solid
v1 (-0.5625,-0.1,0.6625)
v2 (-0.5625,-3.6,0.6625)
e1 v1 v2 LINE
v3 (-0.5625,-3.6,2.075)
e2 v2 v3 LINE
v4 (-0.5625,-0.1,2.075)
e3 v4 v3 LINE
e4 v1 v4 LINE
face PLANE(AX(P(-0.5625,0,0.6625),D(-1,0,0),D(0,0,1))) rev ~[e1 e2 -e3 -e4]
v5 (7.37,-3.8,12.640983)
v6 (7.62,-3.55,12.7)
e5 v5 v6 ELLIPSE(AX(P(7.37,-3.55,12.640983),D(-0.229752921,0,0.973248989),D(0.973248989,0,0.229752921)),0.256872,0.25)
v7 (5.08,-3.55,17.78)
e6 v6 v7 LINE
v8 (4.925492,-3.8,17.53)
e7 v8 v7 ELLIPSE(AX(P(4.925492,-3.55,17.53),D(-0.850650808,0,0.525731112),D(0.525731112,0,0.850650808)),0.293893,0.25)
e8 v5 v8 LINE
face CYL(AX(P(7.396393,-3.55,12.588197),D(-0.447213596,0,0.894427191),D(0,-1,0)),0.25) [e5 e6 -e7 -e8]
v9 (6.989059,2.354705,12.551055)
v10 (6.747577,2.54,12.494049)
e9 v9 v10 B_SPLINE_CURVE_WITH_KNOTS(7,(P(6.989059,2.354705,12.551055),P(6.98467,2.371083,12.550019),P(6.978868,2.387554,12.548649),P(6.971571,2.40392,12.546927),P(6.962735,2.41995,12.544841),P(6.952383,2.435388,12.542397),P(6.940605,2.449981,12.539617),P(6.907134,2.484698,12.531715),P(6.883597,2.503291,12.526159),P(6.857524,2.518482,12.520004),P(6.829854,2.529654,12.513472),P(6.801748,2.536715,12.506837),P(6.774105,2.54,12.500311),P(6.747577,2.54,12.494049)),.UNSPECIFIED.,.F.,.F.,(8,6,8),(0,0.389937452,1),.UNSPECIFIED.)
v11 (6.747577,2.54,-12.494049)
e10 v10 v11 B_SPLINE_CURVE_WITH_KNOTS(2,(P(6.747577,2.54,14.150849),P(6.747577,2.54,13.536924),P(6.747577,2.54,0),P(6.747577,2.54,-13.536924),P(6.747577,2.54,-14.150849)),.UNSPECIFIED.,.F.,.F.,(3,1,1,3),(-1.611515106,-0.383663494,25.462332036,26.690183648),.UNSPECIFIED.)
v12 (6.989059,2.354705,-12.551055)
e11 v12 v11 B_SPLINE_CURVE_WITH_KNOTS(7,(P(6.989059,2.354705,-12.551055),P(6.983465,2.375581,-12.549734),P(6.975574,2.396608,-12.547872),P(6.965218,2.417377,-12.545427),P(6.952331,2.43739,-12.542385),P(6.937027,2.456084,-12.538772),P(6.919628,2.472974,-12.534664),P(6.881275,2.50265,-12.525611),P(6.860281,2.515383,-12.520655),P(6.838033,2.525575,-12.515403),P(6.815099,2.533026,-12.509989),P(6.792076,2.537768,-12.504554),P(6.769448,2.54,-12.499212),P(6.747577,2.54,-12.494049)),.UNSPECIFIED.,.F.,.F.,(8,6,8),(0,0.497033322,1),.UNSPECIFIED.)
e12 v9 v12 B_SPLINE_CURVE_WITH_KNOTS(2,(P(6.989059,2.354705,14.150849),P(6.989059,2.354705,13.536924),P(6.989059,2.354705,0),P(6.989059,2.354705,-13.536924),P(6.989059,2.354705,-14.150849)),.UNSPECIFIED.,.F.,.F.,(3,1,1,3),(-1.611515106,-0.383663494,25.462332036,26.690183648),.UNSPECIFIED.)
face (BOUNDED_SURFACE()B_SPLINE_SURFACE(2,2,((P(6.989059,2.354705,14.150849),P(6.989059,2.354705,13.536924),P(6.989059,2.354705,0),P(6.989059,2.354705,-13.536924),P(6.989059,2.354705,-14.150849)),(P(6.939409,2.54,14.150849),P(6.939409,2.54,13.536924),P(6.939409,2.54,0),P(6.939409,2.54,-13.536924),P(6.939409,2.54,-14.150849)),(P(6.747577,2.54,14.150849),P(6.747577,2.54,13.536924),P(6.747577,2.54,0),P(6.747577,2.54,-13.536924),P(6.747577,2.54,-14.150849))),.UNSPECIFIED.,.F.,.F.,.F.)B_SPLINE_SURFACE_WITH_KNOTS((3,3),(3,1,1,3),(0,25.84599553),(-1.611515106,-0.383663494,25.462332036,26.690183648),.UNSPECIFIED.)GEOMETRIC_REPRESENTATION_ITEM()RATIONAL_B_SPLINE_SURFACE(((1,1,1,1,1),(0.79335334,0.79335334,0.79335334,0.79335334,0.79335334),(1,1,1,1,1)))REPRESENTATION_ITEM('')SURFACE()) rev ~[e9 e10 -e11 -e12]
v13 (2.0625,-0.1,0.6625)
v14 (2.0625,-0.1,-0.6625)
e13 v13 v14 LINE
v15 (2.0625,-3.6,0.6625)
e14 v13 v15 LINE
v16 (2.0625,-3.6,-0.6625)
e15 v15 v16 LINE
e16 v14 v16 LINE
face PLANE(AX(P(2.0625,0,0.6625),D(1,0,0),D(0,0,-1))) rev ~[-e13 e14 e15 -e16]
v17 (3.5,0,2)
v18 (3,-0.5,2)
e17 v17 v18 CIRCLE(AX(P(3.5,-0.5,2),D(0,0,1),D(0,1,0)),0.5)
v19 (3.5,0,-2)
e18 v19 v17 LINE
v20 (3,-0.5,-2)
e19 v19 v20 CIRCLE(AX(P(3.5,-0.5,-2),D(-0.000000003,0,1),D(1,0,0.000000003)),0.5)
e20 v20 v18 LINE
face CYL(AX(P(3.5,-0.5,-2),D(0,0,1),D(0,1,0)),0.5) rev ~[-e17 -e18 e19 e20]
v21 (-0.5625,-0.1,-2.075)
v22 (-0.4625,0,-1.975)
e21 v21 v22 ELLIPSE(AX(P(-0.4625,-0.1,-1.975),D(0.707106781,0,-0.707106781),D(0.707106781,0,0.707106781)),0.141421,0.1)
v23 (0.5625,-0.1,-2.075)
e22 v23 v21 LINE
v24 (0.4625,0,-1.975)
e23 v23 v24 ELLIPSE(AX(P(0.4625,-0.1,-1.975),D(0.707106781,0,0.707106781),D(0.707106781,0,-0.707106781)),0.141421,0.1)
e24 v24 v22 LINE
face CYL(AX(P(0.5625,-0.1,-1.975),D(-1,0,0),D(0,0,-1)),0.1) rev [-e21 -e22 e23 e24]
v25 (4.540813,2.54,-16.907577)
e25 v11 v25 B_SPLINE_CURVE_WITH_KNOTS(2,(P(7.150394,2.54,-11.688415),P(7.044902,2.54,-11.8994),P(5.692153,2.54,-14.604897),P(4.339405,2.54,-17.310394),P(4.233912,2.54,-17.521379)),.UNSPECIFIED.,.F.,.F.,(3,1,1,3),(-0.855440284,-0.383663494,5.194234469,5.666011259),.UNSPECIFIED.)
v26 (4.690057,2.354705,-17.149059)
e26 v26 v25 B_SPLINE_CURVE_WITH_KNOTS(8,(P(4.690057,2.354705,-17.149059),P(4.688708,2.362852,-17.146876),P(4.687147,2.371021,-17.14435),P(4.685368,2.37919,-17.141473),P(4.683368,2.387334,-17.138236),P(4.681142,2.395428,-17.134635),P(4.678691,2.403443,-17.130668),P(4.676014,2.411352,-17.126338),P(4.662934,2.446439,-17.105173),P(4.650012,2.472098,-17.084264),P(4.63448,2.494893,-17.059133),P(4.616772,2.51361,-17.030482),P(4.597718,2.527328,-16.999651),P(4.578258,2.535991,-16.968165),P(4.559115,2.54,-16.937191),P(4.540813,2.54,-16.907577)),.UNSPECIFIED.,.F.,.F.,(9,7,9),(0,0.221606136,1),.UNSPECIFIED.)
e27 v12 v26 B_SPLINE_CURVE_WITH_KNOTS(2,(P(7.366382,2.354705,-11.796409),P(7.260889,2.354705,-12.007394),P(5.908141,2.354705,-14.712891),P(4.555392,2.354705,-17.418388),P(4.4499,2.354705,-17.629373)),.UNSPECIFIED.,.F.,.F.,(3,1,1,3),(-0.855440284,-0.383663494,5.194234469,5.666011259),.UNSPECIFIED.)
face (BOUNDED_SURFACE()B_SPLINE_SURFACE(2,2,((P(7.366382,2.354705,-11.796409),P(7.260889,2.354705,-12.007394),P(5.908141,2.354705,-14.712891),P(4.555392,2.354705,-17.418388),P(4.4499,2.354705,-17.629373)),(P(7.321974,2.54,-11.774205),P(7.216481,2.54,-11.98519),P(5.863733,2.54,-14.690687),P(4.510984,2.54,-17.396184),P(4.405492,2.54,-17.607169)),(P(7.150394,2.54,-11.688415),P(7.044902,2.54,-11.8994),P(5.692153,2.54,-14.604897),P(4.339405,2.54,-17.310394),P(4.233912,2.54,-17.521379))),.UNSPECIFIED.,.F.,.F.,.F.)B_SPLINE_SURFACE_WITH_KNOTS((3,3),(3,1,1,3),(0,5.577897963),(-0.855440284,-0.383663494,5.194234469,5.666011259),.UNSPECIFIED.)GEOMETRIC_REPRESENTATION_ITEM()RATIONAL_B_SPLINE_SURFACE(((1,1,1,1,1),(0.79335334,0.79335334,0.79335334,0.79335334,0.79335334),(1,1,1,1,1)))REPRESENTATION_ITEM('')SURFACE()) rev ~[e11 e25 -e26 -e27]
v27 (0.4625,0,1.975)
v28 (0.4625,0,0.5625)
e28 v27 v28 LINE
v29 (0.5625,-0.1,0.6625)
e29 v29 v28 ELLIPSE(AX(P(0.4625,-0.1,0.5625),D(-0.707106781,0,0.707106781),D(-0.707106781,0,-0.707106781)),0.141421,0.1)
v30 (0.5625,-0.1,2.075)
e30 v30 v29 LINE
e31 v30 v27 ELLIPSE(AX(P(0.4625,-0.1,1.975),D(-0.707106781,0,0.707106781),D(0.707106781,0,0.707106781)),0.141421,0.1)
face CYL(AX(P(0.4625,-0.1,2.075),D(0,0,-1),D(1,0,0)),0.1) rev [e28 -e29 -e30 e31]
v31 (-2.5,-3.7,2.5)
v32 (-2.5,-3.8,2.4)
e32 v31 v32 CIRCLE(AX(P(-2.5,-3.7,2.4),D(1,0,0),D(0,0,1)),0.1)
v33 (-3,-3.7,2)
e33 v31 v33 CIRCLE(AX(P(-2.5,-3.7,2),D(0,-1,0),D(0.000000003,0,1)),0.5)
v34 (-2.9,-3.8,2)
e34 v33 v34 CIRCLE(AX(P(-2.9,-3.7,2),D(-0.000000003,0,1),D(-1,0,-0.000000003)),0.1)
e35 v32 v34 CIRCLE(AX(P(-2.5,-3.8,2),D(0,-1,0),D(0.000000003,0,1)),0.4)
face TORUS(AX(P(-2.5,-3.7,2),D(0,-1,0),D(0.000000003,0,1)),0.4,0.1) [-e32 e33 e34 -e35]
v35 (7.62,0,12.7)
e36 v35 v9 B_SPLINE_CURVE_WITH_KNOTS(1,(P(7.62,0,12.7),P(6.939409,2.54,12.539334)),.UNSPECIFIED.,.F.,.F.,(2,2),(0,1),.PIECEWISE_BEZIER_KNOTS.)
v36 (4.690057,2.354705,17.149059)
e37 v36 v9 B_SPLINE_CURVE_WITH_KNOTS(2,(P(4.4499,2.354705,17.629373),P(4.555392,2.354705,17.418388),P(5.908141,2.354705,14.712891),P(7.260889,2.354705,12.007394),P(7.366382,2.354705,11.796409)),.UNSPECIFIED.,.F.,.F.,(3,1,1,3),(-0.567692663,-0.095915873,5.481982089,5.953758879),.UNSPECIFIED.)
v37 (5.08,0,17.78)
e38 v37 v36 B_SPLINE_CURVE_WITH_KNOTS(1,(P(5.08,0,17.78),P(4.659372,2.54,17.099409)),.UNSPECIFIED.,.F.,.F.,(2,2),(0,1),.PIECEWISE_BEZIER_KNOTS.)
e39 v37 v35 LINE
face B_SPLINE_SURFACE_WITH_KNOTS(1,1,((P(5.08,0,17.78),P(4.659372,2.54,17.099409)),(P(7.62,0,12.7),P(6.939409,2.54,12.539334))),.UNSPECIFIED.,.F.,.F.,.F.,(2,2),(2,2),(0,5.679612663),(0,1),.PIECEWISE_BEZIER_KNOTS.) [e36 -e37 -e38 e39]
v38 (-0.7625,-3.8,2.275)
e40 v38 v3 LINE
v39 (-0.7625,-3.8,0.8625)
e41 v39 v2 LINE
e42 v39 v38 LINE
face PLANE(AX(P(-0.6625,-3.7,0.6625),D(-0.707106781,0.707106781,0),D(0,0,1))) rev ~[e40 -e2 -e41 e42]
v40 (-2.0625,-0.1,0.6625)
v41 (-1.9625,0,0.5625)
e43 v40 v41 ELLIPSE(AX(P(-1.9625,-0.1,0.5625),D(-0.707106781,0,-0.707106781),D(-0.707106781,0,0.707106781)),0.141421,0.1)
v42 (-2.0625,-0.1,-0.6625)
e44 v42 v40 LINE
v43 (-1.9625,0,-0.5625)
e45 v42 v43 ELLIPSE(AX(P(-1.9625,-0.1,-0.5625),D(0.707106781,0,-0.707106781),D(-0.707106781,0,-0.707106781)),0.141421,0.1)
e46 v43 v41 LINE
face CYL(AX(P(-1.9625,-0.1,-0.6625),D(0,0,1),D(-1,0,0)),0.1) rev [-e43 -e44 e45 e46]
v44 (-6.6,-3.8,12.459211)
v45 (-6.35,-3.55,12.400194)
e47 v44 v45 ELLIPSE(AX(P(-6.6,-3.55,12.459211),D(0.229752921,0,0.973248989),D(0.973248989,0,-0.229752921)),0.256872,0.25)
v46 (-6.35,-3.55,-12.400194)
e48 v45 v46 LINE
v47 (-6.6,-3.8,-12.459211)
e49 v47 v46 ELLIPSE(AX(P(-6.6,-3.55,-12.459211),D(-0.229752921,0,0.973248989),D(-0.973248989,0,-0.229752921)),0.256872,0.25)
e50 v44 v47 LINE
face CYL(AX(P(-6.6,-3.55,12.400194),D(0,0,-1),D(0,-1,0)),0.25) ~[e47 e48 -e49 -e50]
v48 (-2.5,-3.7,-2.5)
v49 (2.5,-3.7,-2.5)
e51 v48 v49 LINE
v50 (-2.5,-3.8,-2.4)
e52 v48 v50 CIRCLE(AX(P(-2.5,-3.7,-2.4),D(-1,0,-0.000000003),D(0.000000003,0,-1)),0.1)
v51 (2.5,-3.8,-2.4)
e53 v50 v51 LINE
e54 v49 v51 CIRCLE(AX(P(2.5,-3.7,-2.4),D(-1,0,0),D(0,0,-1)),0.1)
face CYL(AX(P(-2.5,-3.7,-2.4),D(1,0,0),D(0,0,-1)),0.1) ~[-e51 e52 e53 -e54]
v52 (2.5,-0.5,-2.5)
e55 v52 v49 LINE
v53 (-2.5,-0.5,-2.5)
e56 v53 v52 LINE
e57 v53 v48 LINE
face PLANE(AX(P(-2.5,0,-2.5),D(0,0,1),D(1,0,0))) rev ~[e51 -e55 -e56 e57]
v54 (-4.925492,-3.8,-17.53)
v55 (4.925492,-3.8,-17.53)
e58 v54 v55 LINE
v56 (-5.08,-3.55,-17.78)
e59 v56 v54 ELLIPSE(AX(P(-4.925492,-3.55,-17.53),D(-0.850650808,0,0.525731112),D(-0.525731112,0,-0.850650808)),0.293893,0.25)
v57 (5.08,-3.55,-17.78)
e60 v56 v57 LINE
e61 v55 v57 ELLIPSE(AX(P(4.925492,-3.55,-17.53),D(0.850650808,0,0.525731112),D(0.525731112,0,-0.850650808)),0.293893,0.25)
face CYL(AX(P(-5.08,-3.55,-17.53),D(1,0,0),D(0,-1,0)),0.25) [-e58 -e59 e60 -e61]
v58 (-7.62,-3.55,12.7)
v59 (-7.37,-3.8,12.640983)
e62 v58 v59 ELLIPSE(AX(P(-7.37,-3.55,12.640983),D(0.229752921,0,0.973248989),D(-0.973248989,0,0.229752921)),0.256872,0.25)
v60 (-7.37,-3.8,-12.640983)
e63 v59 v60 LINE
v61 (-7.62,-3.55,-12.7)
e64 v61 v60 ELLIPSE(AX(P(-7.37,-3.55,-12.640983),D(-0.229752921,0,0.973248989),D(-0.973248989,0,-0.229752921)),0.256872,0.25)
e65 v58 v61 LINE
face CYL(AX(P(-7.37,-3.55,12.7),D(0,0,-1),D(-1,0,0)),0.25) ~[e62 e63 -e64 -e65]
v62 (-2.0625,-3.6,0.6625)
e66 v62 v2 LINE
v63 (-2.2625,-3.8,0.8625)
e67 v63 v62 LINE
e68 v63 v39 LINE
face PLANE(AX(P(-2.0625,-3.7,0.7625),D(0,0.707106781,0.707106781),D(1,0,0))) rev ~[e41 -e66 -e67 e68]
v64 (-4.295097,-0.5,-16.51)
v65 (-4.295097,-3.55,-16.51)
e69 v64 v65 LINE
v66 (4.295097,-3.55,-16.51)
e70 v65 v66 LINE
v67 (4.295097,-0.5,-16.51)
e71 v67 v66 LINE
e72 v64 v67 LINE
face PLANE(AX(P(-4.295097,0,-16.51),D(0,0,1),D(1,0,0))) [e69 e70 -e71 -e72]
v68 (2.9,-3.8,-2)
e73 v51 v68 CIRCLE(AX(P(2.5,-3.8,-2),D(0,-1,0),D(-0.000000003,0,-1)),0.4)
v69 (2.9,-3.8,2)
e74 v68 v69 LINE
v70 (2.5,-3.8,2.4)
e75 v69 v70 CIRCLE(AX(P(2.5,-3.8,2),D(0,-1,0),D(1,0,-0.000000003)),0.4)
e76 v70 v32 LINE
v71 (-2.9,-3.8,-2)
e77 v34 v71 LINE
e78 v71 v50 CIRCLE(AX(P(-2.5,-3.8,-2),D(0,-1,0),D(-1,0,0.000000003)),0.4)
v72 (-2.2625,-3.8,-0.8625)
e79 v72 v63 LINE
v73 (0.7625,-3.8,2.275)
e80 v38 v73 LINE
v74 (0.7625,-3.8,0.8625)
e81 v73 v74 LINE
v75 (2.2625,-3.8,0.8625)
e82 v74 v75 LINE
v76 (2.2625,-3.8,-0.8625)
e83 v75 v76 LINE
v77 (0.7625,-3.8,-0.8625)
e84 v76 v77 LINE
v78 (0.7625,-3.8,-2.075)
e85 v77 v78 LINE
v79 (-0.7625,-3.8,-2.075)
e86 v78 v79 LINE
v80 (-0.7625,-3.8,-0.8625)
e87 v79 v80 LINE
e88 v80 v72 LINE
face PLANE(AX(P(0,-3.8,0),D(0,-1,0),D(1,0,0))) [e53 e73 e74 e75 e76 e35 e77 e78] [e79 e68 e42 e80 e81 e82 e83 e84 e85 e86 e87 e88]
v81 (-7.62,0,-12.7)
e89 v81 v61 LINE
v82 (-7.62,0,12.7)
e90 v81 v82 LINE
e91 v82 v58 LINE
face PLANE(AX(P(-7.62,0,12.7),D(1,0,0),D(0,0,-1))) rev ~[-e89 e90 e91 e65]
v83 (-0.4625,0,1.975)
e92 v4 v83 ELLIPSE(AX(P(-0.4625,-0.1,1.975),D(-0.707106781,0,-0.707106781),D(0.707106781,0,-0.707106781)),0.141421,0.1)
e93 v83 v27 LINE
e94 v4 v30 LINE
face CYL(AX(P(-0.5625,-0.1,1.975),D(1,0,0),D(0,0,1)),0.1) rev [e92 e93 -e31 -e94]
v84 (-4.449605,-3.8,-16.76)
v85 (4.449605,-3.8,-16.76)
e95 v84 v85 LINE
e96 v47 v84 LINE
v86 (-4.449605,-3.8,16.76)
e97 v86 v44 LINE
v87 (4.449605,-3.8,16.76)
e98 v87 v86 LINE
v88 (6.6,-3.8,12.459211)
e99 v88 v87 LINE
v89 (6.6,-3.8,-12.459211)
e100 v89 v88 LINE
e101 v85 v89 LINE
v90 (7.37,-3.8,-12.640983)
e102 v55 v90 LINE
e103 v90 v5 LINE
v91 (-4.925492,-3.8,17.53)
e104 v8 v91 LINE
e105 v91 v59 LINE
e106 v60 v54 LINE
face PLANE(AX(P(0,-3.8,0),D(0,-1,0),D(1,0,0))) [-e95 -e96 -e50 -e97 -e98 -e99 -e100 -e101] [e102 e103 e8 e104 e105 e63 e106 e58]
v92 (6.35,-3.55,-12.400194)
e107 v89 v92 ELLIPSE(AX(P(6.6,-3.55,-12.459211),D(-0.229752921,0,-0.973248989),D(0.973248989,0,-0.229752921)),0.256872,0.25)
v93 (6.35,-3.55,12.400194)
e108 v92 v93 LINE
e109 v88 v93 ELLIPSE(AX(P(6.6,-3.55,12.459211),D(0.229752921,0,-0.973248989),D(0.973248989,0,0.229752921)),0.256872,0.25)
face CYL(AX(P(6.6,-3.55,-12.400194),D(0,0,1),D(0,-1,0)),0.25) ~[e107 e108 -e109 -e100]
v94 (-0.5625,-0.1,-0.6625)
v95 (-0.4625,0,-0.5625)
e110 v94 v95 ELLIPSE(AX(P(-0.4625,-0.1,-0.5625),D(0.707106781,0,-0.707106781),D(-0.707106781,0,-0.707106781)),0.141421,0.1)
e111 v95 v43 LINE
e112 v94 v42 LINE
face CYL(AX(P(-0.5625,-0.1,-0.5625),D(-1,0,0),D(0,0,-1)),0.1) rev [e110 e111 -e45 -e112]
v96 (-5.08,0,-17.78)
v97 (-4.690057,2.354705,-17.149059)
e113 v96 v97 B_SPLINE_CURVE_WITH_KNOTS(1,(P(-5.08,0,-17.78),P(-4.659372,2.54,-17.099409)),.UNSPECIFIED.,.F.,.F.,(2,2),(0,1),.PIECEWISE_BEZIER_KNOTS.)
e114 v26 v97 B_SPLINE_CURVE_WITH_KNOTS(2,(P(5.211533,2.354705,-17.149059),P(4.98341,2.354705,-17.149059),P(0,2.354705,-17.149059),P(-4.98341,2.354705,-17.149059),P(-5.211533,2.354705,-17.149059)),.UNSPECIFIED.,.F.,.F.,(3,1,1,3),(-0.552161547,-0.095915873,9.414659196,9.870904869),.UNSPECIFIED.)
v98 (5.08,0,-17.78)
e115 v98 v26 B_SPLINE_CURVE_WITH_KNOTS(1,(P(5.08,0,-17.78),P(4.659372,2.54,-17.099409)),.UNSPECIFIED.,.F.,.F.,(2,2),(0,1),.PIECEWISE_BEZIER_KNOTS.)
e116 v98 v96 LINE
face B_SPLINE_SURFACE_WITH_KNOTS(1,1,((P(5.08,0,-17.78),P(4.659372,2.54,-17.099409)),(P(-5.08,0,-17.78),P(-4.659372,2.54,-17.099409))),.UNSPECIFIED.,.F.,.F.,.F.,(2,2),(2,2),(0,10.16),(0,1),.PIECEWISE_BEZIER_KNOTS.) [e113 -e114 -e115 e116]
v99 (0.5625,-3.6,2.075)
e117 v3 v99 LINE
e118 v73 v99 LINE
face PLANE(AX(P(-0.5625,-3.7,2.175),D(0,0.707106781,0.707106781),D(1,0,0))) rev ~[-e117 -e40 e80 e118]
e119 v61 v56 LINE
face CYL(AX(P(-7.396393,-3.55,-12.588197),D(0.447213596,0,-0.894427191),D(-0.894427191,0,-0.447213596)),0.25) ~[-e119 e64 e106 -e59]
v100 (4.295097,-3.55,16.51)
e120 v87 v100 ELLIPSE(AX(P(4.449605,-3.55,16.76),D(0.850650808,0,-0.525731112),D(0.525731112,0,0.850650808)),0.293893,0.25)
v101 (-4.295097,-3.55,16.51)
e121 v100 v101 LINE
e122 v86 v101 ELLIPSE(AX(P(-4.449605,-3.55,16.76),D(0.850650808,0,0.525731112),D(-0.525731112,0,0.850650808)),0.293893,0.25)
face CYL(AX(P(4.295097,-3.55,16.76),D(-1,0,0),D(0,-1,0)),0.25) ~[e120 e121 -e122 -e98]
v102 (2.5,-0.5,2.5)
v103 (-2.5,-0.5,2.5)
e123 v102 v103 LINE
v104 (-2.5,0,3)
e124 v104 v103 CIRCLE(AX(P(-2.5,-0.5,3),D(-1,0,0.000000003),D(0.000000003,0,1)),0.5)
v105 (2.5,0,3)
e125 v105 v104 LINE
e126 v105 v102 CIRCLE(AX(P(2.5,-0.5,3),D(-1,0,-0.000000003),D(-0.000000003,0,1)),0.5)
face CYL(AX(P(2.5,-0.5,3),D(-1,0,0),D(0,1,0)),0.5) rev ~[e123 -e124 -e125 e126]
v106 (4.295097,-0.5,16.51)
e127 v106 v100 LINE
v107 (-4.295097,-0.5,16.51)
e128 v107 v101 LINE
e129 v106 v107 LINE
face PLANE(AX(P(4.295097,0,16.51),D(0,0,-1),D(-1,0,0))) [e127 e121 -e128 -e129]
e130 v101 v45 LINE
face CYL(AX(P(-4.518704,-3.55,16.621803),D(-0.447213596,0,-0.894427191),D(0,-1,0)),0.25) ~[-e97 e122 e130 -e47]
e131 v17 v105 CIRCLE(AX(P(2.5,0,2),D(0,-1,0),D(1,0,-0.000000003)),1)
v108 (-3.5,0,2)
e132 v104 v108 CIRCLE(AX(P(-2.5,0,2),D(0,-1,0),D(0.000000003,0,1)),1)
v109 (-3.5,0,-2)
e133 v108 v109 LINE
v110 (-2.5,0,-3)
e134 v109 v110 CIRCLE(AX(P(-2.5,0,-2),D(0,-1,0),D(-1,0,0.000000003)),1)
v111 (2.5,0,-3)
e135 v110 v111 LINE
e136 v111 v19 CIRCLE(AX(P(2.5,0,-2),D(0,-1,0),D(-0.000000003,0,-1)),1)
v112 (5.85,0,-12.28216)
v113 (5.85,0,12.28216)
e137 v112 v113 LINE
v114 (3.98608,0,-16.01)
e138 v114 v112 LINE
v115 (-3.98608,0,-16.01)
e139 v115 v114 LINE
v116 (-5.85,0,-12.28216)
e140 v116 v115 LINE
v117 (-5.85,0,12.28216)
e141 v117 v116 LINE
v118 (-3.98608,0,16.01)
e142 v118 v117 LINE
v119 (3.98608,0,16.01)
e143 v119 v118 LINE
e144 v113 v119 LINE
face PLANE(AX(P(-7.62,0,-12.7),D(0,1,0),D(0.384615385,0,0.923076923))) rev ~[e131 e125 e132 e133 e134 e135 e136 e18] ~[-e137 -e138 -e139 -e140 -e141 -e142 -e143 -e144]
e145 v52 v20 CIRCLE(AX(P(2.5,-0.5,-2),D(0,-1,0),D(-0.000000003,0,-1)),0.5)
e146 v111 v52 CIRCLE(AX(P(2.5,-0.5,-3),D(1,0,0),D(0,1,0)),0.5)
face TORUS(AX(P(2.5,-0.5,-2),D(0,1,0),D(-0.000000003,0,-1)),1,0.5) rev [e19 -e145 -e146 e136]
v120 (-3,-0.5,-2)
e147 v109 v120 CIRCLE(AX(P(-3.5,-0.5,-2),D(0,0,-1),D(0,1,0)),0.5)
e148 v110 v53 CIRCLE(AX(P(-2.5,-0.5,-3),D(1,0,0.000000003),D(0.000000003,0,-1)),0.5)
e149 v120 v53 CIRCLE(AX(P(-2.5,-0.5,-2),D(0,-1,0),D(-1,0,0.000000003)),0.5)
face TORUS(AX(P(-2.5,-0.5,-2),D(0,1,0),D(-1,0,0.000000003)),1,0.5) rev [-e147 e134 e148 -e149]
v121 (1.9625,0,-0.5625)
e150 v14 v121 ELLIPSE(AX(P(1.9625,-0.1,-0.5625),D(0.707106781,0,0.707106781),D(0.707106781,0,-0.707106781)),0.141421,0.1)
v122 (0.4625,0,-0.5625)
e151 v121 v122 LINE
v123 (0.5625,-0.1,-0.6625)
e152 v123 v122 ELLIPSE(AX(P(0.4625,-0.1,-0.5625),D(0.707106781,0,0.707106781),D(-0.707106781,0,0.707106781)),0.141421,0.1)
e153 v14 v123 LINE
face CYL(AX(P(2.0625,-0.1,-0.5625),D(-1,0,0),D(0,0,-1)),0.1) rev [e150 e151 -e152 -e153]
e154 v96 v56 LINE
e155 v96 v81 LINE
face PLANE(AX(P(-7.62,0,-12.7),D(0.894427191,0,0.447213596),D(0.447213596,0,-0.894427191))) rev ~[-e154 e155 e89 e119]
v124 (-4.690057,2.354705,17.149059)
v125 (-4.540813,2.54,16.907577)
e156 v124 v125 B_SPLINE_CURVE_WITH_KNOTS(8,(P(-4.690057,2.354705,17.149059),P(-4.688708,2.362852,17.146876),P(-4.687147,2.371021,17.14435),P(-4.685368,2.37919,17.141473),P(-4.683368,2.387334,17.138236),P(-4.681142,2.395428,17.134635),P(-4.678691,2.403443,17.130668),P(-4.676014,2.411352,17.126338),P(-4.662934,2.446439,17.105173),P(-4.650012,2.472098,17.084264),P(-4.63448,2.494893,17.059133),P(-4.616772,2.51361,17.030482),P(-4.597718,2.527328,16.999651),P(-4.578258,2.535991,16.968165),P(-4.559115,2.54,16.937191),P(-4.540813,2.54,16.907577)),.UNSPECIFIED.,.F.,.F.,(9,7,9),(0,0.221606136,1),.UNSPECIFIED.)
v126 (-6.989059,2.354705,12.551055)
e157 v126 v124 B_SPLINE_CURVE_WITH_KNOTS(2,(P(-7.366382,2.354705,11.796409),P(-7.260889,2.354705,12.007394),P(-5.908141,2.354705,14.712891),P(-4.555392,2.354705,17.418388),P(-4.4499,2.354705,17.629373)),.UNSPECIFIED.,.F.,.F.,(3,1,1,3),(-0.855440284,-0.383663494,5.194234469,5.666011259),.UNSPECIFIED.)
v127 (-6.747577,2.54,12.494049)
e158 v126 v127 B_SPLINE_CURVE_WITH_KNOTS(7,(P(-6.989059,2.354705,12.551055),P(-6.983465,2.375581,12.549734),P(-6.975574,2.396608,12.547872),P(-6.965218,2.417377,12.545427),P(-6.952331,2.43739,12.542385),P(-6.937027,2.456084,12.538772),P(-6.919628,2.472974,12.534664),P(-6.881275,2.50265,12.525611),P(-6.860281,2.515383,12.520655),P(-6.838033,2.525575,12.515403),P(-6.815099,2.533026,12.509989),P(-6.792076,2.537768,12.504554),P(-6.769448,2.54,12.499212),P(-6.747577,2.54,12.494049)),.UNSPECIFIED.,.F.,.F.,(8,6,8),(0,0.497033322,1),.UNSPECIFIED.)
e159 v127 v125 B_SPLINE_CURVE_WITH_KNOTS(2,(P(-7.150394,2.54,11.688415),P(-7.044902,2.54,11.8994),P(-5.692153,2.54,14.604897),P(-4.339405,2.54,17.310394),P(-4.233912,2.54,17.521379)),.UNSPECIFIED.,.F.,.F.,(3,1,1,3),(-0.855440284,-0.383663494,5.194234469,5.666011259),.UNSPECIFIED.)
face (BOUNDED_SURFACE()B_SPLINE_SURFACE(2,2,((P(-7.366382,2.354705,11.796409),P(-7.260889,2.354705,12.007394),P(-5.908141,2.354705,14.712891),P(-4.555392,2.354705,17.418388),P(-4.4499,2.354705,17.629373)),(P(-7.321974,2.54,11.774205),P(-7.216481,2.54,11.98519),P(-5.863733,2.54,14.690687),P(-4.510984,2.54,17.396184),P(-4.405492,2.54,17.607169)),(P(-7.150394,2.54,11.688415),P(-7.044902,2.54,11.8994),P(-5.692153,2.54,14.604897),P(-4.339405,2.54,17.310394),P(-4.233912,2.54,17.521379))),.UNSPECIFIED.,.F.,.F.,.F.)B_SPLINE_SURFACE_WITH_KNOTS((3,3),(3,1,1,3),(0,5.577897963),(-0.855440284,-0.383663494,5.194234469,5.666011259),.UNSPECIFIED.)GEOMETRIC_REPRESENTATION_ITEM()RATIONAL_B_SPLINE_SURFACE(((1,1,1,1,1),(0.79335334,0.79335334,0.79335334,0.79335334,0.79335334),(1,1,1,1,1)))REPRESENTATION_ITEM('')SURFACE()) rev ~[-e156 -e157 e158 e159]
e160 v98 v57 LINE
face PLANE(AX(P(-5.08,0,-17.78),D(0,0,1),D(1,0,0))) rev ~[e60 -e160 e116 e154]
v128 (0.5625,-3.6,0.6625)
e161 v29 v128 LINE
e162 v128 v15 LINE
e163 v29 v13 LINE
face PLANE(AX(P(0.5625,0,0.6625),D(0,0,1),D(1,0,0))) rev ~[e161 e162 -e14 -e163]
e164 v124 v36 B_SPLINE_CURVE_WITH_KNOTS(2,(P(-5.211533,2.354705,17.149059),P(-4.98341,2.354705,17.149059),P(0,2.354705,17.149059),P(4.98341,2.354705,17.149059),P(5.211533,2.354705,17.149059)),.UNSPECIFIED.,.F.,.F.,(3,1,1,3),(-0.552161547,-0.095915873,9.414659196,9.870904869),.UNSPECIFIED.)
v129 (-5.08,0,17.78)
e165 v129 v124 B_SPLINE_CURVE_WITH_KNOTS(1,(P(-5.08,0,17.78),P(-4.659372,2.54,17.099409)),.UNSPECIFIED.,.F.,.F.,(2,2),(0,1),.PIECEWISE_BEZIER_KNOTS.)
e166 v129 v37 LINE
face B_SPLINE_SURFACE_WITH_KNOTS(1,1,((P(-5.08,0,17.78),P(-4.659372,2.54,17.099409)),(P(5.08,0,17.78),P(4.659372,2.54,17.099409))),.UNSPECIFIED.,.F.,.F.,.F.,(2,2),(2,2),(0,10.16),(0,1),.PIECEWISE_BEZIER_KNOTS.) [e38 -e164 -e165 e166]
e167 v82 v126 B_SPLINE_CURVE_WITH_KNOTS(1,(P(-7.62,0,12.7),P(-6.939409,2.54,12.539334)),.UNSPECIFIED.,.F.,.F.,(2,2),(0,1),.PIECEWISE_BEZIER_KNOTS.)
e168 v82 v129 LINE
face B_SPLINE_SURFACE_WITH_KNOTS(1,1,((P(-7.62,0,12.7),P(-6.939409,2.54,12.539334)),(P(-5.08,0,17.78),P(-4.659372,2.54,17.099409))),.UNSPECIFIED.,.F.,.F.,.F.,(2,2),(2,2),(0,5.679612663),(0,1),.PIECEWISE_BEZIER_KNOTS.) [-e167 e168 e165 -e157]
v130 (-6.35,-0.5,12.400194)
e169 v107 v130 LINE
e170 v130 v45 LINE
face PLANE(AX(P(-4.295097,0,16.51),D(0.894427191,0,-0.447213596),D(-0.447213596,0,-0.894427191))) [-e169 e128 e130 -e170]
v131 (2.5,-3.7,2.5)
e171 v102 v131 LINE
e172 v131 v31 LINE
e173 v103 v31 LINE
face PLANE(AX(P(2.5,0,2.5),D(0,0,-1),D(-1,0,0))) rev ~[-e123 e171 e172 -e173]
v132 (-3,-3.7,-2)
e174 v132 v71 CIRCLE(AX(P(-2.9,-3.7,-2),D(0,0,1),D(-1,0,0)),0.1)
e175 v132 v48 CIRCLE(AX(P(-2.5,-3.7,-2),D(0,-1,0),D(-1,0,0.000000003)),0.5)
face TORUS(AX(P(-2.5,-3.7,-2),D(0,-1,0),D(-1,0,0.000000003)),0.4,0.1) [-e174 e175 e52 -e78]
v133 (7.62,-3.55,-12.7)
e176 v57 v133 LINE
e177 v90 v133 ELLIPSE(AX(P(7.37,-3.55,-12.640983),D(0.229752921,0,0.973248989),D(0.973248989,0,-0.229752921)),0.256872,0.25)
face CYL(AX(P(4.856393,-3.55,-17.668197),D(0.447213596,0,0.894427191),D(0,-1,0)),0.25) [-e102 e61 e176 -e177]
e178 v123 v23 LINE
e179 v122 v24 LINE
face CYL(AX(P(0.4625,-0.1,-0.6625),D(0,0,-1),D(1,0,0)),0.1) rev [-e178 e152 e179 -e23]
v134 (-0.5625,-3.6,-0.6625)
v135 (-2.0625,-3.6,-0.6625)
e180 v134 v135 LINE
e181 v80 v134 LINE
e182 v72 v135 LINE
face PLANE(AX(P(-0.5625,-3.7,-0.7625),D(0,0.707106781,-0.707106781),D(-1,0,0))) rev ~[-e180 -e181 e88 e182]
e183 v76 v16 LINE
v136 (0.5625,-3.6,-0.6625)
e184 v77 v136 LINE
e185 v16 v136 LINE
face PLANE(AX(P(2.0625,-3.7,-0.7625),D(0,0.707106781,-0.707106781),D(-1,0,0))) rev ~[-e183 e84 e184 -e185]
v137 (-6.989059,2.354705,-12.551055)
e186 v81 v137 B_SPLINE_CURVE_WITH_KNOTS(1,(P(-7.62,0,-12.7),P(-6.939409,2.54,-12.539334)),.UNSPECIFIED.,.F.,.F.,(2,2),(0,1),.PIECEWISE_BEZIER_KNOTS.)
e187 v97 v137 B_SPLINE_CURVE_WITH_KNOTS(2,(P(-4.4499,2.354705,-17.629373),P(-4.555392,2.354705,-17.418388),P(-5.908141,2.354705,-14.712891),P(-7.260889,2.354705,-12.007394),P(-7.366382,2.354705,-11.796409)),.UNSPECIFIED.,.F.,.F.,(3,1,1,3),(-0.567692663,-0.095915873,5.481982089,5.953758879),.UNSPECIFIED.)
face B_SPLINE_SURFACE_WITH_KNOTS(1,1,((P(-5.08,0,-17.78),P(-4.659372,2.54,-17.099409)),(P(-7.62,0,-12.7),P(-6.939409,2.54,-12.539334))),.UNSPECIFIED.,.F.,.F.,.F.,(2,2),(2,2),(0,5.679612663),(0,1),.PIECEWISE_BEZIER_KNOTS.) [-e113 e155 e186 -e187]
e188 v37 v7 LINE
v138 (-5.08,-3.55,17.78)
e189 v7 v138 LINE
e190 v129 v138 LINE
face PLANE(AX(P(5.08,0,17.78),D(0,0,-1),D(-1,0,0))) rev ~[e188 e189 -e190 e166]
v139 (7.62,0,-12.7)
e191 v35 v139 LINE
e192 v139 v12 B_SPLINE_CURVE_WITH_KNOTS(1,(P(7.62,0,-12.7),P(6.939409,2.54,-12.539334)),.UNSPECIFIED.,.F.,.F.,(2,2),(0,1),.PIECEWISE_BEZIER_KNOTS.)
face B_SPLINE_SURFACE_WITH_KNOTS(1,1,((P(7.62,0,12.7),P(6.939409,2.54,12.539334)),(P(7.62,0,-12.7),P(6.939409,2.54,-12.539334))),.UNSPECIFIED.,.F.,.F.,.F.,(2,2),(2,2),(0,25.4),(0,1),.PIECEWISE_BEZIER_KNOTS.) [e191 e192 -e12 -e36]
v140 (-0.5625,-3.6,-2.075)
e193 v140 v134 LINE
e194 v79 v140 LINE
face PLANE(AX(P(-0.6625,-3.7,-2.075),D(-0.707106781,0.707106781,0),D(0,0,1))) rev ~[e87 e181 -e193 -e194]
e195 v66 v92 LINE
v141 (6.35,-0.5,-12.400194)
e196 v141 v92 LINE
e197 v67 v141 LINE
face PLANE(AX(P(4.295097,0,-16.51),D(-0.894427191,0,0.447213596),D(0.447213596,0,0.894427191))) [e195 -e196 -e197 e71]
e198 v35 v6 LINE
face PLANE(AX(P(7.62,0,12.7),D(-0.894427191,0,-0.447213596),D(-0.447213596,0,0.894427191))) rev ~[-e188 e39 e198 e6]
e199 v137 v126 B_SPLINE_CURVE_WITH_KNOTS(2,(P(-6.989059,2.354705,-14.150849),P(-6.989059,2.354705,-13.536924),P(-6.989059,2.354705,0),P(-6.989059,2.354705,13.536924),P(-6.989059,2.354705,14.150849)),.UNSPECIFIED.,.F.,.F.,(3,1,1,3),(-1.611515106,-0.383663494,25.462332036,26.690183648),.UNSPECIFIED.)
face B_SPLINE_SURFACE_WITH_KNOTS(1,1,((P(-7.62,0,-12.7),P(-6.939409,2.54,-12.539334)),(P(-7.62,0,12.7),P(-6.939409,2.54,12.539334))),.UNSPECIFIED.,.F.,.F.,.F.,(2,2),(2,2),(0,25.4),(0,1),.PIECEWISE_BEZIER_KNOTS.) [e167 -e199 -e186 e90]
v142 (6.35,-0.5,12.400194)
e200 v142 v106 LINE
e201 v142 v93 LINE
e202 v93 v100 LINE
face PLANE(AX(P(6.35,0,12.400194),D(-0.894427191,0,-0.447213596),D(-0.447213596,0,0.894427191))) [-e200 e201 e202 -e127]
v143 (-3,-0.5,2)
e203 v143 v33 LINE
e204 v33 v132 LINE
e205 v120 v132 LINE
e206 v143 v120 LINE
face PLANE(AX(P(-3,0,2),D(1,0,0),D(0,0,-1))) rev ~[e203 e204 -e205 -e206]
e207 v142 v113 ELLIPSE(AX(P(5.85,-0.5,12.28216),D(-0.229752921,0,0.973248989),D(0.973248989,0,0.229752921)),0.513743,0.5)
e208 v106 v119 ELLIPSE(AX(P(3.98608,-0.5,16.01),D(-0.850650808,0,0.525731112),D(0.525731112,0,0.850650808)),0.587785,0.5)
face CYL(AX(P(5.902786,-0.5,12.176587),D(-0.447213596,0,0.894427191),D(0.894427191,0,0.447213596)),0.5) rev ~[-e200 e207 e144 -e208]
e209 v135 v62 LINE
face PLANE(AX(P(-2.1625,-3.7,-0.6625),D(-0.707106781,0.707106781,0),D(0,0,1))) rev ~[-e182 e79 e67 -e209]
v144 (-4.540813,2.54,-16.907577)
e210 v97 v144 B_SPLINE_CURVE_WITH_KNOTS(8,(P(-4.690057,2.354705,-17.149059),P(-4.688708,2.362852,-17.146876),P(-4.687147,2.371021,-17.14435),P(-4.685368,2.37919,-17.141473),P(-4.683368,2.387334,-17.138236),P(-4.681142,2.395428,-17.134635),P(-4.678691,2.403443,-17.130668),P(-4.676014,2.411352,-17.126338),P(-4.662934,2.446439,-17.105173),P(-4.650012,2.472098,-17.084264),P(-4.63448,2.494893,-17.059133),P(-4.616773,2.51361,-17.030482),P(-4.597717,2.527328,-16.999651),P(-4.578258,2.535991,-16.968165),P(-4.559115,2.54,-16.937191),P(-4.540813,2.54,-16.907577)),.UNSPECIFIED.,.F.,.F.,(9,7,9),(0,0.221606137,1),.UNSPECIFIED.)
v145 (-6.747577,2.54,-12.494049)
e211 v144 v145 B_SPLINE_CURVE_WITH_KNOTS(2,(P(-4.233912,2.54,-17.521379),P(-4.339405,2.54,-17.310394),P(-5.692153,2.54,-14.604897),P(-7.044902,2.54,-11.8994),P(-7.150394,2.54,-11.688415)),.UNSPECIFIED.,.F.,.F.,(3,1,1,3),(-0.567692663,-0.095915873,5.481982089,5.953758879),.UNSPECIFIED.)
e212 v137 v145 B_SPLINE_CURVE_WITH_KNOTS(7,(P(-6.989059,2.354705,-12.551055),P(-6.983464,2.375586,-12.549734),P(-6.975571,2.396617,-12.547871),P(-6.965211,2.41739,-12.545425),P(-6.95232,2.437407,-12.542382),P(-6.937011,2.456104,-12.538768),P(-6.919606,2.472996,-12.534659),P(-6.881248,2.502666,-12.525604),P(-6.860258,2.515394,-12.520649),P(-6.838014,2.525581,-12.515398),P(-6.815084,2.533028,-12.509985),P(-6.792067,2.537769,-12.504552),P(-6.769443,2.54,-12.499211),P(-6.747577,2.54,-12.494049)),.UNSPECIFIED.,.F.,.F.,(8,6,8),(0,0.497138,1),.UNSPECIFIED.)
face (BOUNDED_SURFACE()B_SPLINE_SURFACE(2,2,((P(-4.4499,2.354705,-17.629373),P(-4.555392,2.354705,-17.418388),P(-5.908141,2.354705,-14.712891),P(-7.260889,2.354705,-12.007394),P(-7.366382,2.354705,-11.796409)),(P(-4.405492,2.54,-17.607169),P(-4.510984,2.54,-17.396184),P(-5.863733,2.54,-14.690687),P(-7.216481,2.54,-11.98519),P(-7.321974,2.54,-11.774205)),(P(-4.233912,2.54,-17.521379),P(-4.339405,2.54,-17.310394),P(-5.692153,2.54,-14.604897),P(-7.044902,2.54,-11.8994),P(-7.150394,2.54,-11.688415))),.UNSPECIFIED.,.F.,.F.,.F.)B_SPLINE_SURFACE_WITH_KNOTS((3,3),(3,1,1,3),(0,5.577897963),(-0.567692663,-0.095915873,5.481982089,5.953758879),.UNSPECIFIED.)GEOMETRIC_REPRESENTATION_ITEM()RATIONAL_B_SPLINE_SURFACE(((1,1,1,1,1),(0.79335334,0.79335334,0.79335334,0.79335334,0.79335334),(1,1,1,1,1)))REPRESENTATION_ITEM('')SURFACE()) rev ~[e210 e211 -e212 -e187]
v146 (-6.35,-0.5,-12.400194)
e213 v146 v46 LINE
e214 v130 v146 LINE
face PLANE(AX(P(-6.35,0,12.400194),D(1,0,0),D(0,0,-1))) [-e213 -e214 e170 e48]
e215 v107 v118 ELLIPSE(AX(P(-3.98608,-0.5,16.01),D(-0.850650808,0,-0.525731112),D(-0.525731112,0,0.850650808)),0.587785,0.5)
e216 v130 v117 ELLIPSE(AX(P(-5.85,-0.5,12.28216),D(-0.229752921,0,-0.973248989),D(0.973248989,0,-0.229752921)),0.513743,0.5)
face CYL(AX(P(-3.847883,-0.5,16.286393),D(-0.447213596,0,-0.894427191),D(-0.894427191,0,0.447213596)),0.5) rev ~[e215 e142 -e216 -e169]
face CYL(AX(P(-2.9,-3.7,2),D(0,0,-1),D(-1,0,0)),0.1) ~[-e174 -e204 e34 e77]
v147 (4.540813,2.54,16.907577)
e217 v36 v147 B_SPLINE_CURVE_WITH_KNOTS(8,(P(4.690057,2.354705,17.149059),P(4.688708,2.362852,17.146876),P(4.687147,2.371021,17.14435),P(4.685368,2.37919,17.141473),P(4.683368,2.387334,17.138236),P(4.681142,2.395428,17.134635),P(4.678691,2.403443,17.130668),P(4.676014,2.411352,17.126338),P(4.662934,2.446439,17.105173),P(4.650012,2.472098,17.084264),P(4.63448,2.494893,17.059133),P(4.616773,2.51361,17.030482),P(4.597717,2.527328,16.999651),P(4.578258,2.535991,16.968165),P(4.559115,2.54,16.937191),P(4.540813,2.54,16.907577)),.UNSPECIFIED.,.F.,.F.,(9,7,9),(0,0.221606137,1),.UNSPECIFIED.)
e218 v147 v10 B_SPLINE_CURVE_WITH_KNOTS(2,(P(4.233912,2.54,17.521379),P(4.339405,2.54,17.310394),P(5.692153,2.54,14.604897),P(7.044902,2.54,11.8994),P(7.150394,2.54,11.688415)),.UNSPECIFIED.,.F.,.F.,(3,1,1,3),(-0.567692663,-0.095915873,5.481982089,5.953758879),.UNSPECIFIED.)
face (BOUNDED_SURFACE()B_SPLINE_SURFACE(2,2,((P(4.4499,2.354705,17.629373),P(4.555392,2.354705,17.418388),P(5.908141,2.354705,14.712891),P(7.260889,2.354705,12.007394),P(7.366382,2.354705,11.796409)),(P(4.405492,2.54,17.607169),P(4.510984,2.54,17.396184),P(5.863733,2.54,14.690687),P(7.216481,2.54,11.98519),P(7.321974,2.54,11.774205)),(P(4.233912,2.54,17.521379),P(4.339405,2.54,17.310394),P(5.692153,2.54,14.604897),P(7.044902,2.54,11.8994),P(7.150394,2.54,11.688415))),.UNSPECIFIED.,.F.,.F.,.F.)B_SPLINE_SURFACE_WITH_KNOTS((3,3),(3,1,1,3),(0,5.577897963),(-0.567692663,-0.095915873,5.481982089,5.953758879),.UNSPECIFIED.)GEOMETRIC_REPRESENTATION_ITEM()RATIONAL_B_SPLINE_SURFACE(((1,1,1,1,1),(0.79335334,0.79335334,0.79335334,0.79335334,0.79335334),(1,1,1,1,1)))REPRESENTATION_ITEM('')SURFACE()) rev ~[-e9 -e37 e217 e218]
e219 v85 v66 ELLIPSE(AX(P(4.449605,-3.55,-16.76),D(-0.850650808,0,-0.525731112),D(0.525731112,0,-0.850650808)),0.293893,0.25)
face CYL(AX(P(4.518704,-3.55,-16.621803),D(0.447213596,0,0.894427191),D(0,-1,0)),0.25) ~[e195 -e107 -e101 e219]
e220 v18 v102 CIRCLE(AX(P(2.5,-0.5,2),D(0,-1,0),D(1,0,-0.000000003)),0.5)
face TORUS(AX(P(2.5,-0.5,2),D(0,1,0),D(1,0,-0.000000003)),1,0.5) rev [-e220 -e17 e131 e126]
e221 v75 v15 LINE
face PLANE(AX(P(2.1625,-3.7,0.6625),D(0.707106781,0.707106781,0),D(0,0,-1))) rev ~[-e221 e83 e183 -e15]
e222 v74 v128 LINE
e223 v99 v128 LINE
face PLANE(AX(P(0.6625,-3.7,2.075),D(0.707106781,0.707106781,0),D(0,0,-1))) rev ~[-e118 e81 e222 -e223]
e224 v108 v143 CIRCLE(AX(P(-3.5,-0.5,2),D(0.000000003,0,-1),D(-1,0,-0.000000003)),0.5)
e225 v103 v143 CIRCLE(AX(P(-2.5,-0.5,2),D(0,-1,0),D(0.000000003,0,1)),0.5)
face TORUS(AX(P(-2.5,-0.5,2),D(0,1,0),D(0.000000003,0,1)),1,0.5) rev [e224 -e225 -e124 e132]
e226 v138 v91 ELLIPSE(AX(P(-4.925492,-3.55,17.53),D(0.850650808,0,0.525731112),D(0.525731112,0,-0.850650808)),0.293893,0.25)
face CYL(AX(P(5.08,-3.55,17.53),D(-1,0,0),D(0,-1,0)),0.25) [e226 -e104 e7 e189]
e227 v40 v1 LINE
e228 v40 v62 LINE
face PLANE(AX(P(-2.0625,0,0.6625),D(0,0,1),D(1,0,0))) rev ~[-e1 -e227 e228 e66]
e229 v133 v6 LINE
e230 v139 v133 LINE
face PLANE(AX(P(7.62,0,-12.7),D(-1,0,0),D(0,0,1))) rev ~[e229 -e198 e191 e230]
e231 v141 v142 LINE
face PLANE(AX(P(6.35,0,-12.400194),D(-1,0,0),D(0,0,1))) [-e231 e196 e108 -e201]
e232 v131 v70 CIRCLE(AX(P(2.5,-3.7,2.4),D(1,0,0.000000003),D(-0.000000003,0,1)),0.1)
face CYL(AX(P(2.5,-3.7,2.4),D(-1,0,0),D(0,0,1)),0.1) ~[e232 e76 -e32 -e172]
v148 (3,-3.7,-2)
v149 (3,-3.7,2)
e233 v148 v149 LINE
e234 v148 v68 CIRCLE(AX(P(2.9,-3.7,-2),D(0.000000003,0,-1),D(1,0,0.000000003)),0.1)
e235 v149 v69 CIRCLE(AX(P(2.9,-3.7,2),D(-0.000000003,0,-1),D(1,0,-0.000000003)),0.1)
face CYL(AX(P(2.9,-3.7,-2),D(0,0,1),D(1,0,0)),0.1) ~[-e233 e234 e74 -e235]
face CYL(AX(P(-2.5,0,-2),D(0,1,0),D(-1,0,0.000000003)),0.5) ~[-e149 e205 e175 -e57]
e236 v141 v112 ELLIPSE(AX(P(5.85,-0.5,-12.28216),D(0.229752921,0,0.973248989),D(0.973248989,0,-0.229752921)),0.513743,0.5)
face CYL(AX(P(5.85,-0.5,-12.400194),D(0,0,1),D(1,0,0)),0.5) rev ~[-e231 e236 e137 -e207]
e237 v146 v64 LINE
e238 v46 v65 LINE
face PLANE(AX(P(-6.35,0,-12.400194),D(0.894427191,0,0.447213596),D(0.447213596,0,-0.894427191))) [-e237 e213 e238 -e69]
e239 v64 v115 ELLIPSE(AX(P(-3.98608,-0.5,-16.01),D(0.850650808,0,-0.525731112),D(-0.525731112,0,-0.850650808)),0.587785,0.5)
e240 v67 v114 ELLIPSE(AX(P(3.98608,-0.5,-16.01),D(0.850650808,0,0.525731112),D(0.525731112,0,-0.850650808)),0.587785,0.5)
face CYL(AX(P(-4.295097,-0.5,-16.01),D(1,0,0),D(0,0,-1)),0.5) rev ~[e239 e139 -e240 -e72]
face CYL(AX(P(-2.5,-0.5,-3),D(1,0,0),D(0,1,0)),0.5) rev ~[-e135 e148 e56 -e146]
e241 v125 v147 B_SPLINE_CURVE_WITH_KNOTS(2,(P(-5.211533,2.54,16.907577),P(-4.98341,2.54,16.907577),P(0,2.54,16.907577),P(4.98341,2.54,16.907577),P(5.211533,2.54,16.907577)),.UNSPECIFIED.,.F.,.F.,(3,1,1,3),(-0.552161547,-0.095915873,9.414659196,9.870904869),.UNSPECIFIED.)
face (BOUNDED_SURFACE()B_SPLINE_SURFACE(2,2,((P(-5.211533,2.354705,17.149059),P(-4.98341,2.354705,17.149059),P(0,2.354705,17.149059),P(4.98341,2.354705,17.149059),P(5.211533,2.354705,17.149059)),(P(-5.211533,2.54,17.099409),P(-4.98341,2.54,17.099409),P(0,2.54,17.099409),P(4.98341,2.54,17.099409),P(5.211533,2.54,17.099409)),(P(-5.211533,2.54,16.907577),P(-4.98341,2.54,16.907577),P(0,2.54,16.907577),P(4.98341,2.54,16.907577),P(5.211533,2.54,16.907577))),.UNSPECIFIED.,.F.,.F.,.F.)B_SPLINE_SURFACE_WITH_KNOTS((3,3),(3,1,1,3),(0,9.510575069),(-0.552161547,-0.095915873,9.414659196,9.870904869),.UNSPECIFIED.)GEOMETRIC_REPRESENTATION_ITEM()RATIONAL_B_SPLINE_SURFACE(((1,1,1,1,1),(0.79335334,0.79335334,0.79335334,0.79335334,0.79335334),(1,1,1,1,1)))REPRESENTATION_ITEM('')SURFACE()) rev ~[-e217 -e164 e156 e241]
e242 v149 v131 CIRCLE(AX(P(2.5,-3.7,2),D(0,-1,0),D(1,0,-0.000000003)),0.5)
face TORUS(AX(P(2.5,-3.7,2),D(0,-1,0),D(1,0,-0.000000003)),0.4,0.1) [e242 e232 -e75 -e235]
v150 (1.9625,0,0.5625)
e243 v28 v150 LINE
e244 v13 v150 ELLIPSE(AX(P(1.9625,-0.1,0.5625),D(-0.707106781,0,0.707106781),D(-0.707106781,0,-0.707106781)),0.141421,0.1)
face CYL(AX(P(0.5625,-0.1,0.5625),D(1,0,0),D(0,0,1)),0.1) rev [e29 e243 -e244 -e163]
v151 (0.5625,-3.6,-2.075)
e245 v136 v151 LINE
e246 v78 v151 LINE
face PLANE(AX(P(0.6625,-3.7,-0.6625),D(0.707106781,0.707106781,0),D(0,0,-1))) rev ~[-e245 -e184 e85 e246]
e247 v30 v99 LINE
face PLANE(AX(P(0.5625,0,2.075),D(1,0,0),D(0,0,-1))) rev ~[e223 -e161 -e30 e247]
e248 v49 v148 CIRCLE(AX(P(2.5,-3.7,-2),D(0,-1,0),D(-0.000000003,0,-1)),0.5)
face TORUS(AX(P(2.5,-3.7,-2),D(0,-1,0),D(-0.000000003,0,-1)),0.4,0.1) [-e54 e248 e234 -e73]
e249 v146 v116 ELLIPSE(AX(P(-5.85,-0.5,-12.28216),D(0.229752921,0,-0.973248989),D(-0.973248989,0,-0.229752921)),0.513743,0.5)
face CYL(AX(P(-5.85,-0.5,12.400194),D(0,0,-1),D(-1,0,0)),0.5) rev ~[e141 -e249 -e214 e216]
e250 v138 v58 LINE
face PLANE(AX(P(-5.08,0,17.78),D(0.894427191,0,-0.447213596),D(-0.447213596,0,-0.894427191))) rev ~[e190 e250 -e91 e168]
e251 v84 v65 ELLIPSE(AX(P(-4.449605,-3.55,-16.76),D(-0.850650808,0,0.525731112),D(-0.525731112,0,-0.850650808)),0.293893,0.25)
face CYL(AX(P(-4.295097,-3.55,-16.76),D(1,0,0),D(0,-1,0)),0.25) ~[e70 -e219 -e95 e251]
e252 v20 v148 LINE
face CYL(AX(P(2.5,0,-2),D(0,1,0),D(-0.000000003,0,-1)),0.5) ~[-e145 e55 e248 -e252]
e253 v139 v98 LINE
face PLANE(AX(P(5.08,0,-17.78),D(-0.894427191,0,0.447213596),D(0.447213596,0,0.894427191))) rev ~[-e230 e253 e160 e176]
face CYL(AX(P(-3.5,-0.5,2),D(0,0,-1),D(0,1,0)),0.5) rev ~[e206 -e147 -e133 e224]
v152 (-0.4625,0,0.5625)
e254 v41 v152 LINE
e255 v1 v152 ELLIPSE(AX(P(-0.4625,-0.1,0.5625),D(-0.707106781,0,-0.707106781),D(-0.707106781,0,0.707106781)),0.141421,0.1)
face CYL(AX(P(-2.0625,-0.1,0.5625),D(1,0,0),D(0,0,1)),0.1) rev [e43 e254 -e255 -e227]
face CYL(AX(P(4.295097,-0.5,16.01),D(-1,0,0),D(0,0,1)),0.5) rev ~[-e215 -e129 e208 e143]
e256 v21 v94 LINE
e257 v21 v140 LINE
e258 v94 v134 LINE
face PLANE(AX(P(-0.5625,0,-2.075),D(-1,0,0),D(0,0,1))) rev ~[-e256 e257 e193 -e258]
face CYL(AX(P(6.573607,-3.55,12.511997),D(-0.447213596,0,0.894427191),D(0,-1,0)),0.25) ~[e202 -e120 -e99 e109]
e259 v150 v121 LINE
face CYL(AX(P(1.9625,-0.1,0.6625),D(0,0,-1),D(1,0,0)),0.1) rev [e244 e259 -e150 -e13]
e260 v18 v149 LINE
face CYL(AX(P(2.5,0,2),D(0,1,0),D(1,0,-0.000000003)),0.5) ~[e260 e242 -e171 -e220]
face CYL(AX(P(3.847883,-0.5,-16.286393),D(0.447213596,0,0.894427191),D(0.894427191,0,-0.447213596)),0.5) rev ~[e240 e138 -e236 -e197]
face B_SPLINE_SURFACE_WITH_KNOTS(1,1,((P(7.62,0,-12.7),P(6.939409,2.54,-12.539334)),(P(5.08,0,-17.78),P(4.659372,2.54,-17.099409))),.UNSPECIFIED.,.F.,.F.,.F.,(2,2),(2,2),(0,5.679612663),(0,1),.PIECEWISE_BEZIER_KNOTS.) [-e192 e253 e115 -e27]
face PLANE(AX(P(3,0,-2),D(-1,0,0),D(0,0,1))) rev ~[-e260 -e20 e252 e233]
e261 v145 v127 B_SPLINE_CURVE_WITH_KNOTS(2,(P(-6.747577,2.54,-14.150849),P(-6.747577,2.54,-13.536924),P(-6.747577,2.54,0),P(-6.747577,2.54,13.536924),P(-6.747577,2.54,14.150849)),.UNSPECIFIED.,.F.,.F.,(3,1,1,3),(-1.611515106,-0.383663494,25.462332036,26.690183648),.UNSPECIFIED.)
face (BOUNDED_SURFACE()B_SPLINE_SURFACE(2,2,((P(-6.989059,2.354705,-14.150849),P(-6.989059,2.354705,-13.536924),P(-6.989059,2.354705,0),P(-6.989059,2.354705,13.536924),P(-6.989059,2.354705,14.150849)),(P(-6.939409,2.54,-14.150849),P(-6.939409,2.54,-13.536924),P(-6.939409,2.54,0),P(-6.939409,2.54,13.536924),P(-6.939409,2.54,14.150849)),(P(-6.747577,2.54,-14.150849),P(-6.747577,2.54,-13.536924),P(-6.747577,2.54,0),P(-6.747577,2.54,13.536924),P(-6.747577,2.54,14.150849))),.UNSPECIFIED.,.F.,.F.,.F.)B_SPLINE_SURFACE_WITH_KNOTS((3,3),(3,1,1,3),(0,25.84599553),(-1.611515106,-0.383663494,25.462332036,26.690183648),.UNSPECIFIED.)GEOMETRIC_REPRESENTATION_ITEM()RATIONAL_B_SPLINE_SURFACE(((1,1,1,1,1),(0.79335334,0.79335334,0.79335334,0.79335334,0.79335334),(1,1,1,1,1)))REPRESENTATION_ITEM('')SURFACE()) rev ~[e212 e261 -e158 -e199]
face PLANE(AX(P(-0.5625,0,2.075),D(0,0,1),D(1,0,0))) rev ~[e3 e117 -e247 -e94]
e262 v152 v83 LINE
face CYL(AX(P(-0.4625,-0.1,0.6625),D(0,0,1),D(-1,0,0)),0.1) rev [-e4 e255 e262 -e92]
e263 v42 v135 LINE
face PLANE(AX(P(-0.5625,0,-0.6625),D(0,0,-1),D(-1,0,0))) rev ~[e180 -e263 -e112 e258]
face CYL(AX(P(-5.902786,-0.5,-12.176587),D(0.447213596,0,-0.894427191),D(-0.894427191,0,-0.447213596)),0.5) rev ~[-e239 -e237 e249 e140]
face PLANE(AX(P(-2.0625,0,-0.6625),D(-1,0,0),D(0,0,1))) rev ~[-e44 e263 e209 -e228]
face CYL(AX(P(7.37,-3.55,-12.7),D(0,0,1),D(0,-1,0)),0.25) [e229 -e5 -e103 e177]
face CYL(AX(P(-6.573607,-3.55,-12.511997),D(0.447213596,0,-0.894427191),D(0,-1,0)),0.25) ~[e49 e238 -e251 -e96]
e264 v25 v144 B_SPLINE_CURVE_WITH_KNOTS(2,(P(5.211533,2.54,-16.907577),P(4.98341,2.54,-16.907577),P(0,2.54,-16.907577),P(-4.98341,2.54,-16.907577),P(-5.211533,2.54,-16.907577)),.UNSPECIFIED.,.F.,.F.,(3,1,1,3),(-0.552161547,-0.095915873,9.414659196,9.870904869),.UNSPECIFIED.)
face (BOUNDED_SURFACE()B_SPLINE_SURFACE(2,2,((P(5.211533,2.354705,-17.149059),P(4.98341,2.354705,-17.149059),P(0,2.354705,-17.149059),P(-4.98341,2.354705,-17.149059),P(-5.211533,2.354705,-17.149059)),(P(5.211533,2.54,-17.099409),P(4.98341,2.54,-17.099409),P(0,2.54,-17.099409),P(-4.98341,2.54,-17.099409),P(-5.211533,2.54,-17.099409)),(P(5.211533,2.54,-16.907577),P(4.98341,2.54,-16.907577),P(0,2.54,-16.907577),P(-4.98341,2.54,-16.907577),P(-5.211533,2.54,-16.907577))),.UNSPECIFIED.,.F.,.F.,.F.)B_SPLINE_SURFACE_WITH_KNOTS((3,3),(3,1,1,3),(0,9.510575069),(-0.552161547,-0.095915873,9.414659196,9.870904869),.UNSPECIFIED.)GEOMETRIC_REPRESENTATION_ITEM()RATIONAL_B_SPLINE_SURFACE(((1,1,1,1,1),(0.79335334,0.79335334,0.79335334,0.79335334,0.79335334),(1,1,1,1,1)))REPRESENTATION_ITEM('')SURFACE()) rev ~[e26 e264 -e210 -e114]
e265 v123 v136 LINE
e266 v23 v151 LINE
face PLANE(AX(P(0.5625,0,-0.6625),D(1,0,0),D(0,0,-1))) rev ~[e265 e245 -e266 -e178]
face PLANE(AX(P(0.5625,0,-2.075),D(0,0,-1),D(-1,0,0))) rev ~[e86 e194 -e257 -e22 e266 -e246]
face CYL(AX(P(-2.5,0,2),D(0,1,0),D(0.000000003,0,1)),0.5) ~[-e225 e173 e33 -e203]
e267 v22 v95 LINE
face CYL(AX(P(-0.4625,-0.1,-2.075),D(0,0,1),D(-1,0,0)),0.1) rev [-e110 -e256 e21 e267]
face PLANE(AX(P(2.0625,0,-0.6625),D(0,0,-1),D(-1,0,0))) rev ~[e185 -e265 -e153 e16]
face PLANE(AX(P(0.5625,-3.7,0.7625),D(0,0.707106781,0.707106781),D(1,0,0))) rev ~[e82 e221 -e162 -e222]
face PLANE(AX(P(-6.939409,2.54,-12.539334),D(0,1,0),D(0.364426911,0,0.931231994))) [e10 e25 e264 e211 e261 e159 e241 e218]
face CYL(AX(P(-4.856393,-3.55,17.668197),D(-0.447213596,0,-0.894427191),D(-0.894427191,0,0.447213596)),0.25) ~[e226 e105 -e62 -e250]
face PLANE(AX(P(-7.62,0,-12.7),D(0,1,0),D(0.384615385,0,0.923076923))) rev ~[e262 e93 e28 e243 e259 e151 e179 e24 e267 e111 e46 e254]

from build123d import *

# Parameters (mm, degrees)
BOSS_EXTRUDE1_DEPTH = 2.54
BOSS_EXTRUDE1_TAPER = 15
BOSS_EXTRUDE2_DEPTH = 3.8
FILLET2_R           = 0.1
CHAMFER1_SIZE       = 0.2
BOSS_EXTRUDE3_DEPTH = 3.8
FILLET3_R           = 0.25
FILLET5_R           = 0.5
FILLET6_R           = 0.1
FILLET7_R           = 0.25


with BuildPart() as part:
    # Sketch1 → Boss-Extrude1 (new body)
    with BuildSketch(Plane(origin=(0, 0, 0), x_dir=(1, 0, 0), z_dir=(0, 1, 0))):
        Polygon((-7.62, 12.7), (-7.62, -12.7), (-5.08, -17.78), (5.08, -17.78), (7.62, -12.7), (7.62, 12.7), (5.08, 17.78), (-5.08, 17.78), align=None)
    extrude(amount=BOSS_EXTRUDE1_DEPTH, taper=BOSS_EXTRUDE1_TAPER)

    # Stem → Boss-Extrude2 (add)
    with BuildSketch(Plane.XZ):
        with BuildLine():
            Line((2.499999969, 2.5), (-2.499999969, 2.5))
            ThreePointArc((-2.499999969, 2.5), (-2.85355336, 2.353553391), (-2.999999969, 2))
            Line((-2.999999969, 2), (-2.999999969, -2))
            ThreePointArc((-2.999999969, -2), (-2.85355336, -2.353553391), (-2.499999969, -2.5))
            Line((-2.499999969, -2.5), (2.499999969, -2.5))
            ThreePointArc((2.499999969, -2.5), (2.85355336, -2.353553391), (2.999999969, -2))
            Line((2.999999969, -2), (2.999999969, 2))
            ThreePointArc((2.999999969, 2), (2.85355336, 2.353553391), (2.499999969, 2.5))
        make_face()
        Polygon((-0.5625, 0.6625), (-0.5625, 2.075), (0.5625, 2.075), (0.5625, 0.6625), (2.0625, 0.6625), (2.0625, -0.6625), (0.5625, -0.6625), (0.5625, -2.075), (-0.5625, -2.075), (-0.5625, -0.6625), (-2.0625, -0.6625), (-2.0625, 0.6625), align=None, mode=Mode.SUBTRACT)
    extrude(amount=BOSS_EXTRUDE2_DEPTH)

    # Fillet2
    fillet2_edges = [part.edges().sort_by_distance(p)[0] for p in [
        (2.85355336, -3.8, 2.353553391),
        (0, -3.8, 2.5),
        (2.999999969, -3.8, 0),
        (-2.85355336, -3.8, 2.353553391),
        (-2.999999969, -3.8, 0),
        (-2.85355336, -3.8, -2.353553391),
        (0, -3.8, -2.5),
        (2.85355336, -3.8, -2.353553391),
    ]]
    fillet(fillet2_edges, radius=FILLET2_R)

    # Chamfer1
    chamfer1_edges = [part.edges().sort_by_distance(p)[0] for p in [
        (-2.0625, -3.8, 0),
        (-1.3125, -3.8, 0.6625),
        (-0.5625, -3.8, 1.36875),
        (1.3125, -3.8, 0.6625),
        (-0.5625, -3.8, -1.36875),
        (0, -3.8, 2.075),
        (0.5625, -3.8, 1.36875),
        (2.0625, -3.8, 0),
        (1.3125, -3.8, -0.6625),
        (0.5625, -3.8, -1.36875),
        (-1.3125, -3.8, -0.6625),
    ]]
    chamfer(chamfer1_edges, length=CHAMFER1_SIZE)

    # Sketch3 → Boss-Extrude3 (add)
    with BuildSketch(Plane.XZ):
        Polygon((-7.62, 12.7), (-7.62, -12.7), (-5.08, -17.78), (5.08, -17.78), (7.62, -12.7), (7.62, 12.7), (5.08, 17.78), (-5.08, 17.78), align=None)
        Polygon((-6.35, -12.400193669), (-4.295096834, -16.51), (4.295096834, -16.51), (6.35, -12.400193669), (6.35, 12.400193669), (4.295096834, 16.51), (-4.295096834, 16.51), (-6.35, 12.400193669), align=None, mode=Mode.SUBTRACT)
    extrude(amount=BOSS_EXTRUDE3_DEPTH)

    # Fillet3
    fillet3_edges = [part.edges().sort_by_distance(p)[0] for p in [
        (-6.35, -3.8, 15.24),
        (-7.62, -3.8, 0),
        (-6.35, -3.8, -15.24),
        (0, -3.8, -17.78),
        (6.35, -3.8, -15.24),
        (7.62, -3.8, 0),
        (6.35, -3.8, 15.24),
        (0, -3.8, 17.78),
        (-6.35, -3.8, 0),
        (-5.322548417, -3.8, -14.455096834),
        (0, -3.8, -16.51),
        (5.322548417, -3.8, -14.455096834),
        (6.35, -3.8, 0),
        (5.322548417, -3.8, 14.455096834),
        (0, -3.8, 16.51),
        (-5.322548417, -3.8, 14.455096834),
    ]]
    fillet(fillet3_edges, radius=FILLET3_R)

    # Fillet5
    fillet5_edges = [part.edges().sort_by_distance(p)[0] for p in [
        (-6.35, 0, 0),
        (-5.322548417, 0, -14.455096834),
        (0, 0, -16.51),
        (5.322548417, 0, -14.455096834),
        (6.35, 0, 0),
        (5.322548417, 0, 14.455096834),
        (0, 0, 16.51),
        (-5.322548417, 0, 14.455096834),
        (-2.85355336, 0, 2.353553391),
        (-2.999999969, 0, 0),
        (-2.85355336, 0, -2.353553391),
        (0, 0, -2.5),
        (2.85355336, 0, -2.353553391),
        (2.85355336, 0, 2.353553391),
        (2.999999969, 0, 0),
        (0, 0, 2.5),
    ]]
    fillet(fillet5_edges, radius=FILLET5_R)

    # Fillet6
    fillet6_edges = [part.edges().sort_by_distance(p)[0] for p in [
        (0, 0, 2.075),
        (0.5625, 0, 1.36875),
        (2.0625, 0, 0),
        (1.3125, 0, -0.6625),
        (0.5625, 0, -1.36875),
        (-1.3125, 0, -0.6625),
        (-2.0625, 0, 0),
        (-0.5625, 0, -1.36875),
        (0, 0, -2.075),
        (1.3125, 0, 0.6625),
        (-0.5625, 0, 1.36875),
        (-1.3125, 0, 0.6625),
    ]]
    fillet(fillet6_edges, radius=FILLET6_R)

    # Fillet7
    fillet7_edges = [part.edges().sort_by_distance(p)[0] for p in [
        (-6.939409051, 2.54, 0),
        (-5.799390356, 2.54, 14.819371661),
        (0, 2.54, 17.099409051),
        (5.799390356, 2.54, 14.819371661),
        (6.939409051, 2.54, 0),
        (5.799390356, 2.54, -14.819371661),
        (0, 2.54, -17.099409051),
        (-5.799390356, 2.54, -14.819371661),
    ]]
    fillet(fillet7_edges, radius=FILLET7_R)


solid = part.part
